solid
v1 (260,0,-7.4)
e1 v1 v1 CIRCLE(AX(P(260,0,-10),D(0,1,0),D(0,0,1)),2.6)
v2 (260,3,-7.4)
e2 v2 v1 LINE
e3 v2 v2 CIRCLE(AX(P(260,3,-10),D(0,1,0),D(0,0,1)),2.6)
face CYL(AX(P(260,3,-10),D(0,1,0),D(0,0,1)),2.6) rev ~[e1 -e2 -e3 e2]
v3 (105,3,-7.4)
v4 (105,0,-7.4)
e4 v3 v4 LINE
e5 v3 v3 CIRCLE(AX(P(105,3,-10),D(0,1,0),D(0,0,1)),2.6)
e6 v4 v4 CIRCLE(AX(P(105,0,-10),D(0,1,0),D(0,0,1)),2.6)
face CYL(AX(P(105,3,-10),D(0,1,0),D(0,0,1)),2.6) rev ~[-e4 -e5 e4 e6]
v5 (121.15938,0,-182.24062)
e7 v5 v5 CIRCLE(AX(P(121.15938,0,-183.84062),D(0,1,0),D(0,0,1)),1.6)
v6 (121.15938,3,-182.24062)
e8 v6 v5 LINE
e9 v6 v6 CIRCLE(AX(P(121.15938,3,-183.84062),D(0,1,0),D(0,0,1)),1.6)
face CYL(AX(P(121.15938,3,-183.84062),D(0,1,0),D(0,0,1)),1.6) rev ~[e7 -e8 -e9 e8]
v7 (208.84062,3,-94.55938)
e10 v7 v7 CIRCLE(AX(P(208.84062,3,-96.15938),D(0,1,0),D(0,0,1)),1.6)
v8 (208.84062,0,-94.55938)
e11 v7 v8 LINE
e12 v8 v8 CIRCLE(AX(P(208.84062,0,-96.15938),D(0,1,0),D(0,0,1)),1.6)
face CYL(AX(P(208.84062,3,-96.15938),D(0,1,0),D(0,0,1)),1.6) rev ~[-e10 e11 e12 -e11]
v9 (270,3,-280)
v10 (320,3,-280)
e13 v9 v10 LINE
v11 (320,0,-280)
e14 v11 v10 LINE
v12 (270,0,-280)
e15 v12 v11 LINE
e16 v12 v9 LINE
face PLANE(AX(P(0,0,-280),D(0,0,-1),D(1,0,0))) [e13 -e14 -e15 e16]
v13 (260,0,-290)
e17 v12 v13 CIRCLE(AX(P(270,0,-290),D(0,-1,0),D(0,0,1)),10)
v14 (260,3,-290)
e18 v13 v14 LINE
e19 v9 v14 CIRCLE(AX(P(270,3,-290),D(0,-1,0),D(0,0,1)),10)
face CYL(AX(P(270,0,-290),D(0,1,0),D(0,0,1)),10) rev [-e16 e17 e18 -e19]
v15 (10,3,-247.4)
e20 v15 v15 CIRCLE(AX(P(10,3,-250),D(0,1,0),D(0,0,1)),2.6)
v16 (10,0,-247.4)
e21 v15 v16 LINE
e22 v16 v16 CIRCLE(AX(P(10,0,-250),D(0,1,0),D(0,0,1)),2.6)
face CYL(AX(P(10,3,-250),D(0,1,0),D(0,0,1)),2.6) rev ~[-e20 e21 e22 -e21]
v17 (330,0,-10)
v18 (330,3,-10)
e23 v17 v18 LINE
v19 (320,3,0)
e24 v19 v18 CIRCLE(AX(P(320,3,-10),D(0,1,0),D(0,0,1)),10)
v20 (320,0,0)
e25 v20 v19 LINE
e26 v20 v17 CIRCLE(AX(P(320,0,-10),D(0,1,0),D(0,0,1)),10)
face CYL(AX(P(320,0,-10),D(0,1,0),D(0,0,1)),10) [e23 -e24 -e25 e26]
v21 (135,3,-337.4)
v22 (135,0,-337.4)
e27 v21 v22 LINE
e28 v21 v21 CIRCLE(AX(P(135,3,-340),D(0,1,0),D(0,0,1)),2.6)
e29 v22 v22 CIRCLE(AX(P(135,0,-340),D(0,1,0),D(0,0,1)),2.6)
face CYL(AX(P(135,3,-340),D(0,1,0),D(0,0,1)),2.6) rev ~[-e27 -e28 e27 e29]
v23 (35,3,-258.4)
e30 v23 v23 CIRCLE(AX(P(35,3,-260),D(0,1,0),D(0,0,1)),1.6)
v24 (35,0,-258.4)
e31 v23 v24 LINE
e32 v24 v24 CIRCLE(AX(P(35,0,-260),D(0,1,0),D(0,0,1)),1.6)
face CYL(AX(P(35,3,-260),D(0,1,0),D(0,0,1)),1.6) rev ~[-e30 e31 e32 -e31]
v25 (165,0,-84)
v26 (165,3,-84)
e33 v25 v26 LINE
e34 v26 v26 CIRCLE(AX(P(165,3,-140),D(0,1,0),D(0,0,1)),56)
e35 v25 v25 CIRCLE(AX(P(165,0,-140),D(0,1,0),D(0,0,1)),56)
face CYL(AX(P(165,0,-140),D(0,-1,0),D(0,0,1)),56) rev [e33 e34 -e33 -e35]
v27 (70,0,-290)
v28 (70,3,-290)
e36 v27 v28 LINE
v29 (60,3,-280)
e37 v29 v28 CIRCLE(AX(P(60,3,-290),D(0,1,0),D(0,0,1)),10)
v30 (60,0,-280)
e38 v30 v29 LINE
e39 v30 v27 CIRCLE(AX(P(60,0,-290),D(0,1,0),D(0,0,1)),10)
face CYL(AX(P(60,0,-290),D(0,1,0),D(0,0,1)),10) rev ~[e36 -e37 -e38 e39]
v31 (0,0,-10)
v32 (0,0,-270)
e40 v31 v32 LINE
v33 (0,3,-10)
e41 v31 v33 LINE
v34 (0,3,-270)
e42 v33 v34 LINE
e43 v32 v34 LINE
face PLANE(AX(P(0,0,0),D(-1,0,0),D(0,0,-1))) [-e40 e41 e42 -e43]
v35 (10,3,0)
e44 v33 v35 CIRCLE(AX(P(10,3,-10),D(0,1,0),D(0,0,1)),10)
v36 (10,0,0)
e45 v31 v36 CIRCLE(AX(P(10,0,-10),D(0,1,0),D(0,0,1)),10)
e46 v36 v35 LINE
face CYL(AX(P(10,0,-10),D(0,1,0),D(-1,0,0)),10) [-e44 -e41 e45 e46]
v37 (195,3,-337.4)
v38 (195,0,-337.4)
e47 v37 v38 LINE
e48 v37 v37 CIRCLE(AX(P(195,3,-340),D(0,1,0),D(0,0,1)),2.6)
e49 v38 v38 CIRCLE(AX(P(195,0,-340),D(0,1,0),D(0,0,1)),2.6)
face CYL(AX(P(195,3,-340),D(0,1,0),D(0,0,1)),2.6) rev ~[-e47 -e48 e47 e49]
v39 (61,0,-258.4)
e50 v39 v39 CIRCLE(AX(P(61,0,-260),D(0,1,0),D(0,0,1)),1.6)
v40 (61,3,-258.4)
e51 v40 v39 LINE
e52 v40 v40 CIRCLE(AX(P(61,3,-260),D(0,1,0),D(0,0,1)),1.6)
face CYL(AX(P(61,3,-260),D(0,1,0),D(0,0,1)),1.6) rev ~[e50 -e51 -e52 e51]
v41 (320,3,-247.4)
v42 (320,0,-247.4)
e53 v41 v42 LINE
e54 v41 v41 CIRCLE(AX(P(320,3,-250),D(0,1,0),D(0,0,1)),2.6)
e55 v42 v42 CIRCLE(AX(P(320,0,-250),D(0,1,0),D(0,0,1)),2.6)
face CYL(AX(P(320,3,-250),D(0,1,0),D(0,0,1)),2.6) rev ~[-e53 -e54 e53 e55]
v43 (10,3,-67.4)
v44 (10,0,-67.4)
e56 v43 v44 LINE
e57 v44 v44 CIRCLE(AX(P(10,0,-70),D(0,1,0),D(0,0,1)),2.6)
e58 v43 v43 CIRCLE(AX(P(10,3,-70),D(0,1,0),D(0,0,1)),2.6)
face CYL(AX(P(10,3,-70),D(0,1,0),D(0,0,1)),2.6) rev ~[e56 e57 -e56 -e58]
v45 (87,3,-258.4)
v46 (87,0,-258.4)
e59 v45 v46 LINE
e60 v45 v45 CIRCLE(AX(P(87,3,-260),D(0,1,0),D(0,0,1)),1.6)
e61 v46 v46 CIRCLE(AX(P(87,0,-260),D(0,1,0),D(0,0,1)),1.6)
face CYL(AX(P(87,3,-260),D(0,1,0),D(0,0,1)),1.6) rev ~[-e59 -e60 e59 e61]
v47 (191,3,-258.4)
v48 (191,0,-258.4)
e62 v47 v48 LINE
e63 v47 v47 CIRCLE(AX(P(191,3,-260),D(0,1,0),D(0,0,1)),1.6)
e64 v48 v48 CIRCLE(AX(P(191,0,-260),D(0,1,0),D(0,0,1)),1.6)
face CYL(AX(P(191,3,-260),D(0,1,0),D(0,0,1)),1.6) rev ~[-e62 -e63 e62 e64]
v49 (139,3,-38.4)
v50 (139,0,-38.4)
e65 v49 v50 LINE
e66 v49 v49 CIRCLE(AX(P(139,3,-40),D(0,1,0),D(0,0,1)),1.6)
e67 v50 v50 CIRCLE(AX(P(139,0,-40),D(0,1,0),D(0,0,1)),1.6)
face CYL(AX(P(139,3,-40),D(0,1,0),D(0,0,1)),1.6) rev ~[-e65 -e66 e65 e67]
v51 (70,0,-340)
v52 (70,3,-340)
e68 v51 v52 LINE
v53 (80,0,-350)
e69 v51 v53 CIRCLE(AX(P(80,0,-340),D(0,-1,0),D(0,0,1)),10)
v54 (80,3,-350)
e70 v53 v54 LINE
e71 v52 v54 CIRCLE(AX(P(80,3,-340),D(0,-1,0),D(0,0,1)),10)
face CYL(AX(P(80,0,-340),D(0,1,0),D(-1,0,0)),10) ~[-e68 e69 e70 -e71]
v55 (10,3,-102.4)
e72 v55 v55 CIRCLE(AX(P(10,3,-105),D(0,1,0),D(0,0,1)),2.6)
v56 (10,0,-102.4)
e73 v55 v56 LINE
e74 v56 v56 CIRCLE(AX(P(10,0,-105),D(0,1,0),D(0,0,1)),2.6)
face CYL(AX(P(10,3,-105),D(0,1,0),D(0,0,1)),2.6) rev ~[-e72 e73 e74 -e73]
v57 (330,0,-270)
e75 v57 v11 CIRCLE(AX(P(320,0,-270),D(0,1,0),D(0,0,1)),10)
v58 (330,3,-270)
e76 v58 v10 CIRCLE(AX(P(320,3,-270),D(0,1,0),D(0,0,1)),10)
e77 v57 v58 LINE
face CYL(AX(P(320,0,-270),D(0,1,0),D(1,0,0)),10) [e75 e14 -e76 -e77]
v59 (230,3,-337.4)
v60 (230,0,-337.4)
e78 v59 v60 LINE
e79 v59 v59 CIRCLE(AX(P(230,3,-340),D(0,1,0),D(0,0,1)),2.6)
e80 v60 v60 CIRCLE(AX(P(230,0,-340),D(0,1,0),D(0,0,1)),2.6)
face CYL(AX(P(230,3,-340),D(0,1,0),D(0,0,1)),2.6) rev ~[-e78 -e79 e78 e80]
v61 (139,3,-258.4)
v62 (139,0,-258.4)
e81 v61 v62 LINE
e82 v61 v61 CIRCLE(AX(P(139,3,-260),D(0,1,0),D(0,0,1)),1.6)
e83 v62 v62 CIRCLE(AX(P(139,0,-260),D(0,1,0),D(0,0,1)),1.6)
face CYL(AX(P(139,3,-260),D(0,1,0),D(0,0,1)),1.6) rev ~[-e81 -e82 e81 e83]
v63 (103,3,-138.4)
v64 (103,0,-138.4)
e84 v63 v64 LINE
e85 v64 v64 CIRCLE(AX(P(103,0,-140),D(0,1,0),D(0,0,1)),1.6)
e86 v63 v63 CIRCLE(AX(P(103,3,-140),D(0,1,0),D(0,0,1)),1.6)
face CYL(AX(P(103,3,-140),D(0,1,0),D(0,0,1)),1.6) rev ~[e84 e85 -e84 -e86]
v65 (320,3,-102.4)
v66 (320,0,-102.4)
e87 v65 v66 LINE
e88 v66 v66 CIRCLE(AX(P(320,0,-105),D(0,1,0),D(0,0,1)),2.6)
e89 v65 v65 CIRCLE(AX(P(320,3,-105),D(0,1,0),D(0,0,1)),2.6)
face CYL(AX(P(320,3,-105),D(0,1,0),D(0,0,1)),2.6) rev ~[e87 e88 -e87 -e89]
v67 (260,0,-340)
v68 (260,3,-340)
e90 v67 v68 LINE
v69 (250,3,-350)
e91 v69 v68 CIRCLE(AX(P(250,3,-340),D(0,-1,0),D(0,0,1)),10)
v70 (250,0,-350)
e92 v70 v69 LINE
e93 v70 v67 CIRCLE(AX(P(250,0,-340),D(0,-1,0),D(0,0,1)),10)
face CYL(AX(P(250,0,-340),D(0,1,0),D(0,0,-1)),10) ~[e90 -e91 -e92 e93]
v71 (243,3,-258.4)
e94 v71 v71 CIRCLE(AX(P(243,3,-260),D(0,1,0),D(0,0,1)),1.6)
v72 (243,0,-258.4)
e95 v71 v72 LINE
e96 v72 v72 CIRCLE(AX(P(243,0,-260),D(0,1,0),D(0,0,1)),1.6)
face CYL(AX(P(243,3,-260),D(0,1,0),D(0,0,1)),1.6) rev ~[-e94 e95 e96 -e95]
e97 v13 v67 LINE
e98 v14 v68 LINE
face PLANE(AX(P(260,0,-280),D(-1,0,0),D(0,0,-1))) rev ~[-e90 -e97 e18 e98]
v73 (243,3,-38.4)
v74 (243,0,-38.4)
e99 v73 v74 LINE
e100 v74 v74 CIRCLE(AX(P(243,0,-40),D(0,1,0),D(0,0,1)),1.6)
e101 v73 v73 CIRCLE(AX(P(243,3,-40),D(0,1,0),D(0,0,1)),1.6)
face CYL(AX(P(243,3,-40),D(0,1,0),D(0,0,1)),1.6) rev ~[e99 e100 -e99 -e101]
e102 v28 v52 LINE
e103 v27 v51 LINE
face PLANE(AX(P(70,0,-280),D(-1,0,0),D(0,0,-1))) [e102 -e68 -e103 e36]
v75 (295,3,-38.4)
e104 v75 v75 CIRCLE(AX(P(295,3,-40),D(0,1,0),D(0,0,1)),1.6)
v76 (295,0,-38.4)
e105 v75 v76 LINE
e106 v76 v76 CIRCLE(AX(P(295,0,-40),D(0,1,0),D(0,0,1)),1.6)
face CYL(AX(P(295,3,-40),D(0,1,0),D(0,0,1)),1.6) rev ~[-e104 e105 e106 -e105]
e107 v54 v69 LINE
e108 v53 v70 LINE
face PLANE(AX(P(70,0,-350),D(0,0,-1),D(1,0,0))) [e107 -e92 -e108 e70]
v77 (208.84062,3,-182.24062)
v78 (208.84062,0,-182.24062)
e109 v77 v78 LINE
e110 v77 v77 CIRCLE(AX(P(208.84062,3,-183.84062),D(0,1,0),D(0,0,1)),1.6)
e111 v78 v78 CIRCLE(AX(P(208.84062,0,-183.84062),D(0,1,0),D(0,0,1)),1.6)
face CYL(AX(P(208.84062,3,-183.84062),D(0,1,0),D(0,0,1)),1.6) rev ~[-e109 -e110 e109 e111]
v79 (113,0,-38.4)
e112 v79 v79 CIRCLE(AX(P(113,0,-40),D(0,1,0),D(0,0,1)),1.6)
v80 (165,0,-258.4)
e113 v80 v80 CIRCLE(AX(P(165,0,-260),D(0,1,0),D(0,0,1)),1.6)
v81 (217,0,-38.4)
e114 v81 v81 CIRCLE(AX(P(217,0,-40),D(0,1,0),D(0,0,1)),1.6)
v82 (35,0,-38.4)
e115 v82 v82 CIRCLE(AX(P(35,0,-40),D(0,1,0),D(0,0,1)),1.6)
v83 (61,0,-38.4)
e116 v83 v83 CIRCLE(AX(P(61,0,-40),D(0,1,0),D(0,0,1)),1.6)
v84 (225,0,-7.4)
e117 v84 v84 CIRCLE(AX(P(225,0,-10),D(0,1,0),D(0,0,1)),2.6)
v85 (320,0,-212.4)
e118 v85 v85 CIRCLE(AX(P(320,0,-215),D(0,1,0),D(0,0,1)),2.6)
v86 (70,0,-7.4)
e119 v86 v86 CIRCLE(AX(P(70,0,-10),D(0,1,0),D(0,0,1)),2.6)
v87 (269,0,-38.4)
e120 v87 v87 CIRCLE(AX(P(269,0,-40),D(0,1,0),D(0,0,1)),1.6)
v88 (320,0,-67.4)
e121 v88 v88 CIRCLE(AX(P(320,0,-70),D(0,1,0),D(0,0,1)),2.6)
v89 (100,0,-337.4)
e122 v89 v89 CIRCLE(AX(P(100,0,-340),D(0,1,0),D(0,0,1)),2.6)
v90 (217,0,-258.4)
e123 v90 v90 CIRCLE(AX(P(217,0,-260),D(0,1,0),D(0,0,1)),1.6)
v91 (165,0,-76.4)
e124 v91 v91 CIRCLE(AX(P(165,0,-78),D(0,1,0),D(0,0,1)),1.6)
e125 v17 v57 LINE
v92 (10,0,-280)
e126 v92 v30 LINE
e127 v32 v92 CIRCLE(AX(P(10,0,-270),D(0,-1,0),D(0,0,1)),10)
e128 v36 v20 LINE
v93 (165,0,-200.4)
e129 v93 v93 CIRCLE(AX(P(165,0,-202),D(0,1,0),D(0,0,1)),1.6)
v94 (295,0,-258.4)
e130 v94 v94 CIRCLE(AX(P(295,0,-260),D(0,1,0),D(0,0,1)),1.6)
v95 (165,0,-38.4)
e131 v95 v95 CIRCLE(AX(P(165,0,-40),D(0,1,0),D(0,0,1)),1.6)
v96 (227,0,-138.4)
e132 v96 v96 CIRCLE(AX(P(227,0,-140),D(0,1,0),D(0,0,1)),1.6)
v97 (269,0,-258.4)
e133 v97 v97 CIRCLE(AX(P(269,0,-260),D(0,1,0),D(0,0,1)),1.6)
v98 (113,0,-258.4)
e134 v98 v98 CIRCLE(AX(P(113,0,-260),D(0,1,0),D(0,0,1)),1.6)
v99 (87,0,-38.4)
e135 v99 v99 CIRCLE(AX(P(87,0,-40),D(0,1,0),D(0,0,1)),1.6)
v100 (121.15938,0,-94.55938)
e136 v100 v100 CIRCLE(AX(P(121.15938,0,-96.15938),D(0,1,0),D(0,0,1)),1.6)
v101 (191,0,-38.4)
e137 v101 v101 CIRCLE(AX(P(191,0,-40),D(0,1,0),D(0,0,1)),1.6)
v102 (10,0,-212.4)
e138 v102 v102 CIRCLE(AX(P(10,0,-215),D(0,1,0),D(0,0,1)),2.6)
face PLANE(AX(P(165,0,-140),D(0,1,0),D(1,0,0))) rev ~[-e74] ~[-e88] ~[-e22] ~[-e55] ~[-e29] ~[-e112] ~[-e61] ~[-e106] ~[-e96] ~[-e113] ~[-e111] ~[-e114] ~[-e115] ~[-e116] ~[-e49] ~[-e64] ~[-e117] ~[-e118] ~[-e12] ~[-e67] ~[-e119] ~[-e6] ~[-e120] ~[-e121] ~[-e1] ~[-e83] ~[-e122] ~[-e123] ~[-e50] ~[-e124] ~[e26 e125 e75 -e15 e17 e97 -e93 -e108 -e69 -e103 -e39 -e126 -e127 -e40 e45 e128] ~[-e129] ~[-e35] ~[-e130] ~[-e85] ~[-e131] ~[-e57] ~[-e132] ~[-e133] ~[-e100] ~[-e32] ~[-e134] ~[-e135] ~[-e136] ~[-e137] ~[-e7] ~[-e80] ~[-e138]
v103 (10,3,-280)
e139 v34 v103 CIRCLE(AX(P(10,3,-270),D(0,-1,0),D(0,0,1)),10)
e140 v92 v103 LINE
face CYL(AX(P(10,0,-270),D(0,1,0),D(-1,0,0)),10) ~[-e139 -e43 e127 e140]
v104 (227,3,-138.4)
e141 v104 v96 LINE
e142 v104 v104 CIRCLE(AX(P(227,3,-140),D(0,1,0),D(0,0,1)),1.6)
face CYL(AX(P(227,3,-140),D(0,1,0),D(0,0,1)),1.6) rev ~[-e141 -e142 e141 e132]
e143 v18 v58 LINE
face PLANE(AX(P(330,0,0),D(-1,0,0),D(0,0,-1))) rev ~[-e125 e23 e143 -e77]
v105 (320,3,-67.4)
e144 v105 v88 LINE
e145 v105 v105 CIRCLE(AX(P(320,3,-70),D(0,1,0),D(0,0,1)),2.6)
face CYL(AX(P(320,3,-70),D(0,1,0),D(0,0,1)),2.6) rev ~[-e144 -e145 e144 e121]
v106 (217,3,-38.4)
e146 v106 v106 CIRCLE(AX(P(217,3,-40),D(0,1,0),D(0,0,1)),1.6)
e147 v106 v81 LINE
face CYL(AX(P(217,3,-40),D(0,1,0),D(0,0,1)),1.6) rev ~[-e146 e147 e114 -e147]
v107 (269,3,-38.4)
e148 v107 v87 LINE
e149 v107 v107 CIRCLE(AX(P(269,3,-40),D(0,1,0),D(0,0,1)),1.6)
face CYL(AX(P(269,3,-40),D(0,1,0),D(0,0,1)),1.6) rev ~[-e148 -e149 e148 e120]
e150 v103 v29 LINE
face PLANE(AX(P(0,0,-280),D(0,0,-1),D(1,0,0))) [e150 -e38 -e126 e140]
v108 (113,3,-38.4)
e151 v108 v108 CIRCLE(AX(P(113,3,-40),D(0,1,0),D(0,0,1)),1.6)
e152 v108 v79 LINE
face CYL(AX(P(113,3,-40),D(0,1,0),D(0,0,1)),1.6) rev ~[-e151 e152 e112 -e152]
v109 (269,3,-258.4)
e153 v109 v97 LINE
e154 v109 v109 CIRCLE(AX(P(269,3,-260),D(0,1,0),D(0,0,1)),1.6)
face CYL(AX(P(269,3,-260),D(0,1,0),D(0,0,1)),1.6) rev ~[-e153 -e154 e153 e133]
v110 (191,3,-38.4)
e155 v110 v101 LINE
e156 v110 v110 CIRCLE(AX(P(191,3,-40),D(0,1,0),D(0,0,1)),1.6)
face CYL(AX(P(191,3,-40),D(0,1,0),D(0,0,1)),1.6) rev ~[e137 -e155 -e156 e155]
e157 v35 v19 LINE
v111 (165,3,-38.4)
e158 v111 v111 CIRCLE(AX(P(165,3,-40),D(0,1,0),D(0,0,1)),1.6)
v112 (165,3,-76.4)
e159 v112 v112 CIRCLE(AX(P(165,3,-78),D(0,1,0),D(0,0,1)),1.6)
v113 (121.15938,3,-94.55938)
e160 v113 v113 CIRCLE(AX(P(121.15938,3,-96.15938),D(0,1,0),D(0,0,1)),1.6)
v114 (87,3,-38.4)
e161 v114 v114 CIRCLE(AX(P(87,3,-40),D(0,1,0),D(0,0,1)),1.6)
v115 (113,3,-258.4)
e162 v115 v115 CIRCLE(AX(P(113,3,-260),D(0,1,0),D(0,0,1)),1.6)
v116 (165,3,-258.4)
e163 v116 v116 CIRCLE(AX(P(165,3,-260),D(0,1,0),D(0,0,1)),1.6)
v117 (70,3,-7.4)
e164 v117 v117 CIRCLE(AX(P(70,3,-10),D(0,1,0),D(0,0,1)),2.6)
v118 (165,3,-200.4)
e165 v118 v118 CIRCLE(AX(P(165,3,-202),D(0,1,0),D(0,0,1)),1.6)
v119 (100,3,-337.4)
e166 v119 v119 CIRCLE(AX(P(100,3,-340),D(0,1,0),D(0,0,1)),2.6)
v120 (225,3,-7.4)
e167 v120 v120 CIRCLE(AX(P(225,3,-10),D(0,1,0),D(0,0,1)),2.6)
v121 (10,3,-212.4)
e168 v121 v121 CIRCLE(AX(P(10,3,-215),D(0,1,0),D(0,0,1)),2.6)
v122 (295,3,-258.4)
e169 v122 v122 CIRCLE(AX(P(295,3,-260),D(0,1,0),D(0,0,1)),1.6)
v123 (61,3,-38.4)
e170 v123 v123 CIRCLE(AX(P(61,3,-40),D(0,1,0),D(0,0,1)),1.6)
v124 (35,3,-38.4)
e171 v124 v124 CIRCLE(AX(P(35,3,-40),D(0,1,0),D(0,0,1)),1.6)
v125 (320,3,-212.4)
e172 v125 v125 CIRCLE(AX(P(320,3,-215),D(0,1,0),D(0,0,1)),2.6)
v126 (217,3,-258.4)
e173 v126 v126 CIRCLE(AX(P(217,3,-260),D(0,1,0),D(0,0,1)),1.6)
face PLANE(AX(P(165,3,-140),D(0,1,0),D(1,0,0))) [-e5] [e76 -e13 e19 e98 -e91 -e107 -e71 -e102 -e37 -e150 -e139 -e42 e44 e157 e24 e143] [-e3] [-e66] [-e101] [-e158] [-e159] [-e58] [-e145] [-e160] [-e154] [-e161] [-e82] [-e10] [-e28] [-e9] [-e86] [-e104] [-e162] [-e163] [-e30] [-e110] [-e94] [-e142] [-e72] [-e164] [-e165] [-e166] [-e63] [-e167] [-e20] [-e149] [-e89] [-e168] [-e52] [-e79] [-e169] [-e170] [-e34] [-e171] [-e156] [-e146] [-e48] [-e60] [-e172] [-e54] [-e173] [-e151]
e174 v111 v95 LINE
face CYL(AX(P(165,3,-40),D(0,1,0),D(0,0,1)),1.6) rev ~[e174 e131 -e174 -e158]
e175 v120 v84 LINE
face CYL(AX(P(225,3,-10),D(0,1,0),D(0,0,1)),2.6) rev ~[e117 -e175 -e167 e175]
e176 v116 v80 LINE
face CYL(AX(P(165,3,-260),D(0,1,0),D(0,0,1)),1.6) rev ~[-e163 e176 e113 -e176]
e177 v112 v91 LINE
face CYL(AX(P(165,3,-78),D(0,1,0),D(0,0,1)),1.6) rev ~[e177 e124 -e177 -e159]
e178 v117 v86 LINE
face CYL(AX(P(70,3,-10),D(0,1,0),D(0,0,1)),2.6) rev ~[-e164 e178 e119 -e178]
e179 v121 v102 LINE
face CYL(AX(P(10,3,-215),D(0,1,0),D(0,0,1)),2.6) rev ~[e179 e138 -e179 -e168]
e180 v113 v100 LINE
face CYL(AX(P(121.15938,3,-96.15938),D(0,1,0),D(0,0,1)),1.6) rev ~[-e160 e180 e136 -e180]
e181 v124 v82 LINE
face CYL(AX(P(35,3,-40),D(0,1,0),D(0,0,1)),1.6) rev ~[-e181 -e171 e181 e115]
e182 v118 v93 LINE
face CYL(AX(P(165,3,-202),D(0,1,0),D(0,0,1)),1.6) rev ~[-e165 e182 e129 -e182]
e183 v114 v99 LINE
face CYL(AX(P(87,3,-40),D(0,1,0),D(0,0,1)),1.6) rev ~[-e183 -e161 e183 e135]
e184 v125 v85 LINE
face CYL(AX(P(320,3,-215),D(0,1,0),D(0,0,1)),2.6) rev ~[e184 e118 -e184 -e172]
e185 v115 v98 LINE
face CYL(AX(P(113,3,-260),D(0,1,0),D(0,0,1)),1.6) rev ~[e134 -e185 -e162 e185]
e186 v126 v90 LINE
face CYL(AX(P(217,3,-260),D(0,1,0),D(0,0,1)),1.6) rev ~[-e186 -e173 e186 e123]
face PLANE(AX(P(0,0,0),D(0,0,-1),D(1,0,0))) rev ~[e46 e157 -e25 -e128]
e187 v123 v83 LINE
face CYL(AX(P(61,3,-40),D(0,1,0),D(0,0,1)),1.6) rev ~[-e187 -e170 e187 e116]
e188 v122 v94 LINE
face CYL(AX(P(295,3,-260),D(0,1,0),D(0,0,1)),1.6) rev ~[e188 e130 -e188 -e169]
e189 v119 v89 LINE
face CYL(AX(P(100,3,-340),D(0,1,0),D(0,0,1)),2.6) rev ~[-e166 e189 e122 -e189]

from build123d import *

# Parameters (mm, degrees)
SKETCH1_W           = 330
SKETCH1_H           = 280
SKETCH1_R           = 56
SKETCH1_W_2         = 190
SKETCH1_H_2         = 70
BOSS_EXTRUDE1_DEPTH = 3
FILLET1_R           = 10
SKETCH2_R           = 2.6
SKETCH2_R_2         = 1.6
CUT_EXTRUDE1_DEPTH  = 482.049893462


with BuildPart() as part:
    # Sketch1 → Boss-Extrude1 (new body)
    # profile 1 of 2: a face of its own
    with BuildSketch(Plane(origin=(0, 0, 0), x_dir=(1, 0, 0), z_dir=(0, 1, 0))):
        with Locations((165, 140)):
            Rectangle(SKETCH1_W, SKETCH1_H)
        with Locations(Location((165, 140, 0), (0, 0, 270))):
            Circle(SKETCH1_R, mode=Mode.SUBTRACT)
    # profile 2 of 2: a face of its own
    with BuildSketch(Plane(origin=(0, 0, 0), x_dir=(1, 0, 0), z_dir=(0, 1, 0))):
        with Locations((165, 315)):
            Rectangle(SKETCH1_W_2, SKETCH1_H_2)
    extrude(amount=BOSS_EXTRUDE1_DEPTH)

    # Fillet1
    fillet1_edges = [part.edges().sort_by_distance(p)[0] for p in [
        (0, 1.5, 0),
        (0, 1.5, -280),
        (70, 1.5, -280),
        (70, 1.5, -350),
        (260, 1.5, -350),
        (260, 1.5, -280),
        (330, 1.5, -280),
        (330, 1.5, 0),
    ]]
    fillet(fillet1_edges, radius=FILLET1_R)

    # Sketch2 → Cut-Extrude1 (cut, through all)
    with BuildSketch(Plane(origin=(0, 3, 0), x_dir=(1, 0, 0), z_dir=(0, 1, 0))):
        with Locations(Location((100, 340, 0), (0, 0, 270))):
            Circle(SKETCH2_R)
        with Locations(Location((230, 340, 0), (0, 0, 270))):
            Circle(SKETCH2_R)
        with Locations(Location((320, 250, 0), (0, 0, 270))):
            Circle(SKETCH2_R)
        with Locations(Location((320, 70, 0), (0, 0, 270))):
            Circle(SKETCH2_R)
        with Locations(Location((260, 10, 0), (0, 0, 270))):
            Circle(SKETCH2_R)
        with Locations(Location((10, 70, 0), (0, 0, 270))):
            Circle(SKETCH2_R)
        with Locations(Location((70, 10, 0), (0, 0, 270))):
            Circle(SKETCH2_R)
        with Locations(Location((10, 250, 0), (0, 0, 270))):
            Circle(SKETCH2_R)
        with Locations(Location((165, 202, 0), (0, 0, 270))):
            Circle(SKETCH2_R_2)
        with Locations(Location((208.840620434, 183.840620434, 0), (0, 0, 270))):
            Circle(SKETCH2_R_2)
        with Locations(Location((227, 140, 0), (0, 0, 270))):
            Circle(SKETCH2_R_2)
        with Locations(Location((208.840620434, 96.159379566, 0), (0, 0, 270))):
            Circle(SKETCH2_R_2)
        with Locations(Location((165, 78, 0), (0, 0, 270))):
            Circle(SKETCH2_R_2)
        with Locations(Location((121.159379566, 96.159379566, 0), (0, 0, 270))):
            Circle(SKETCH2_R_2)
        with Locations(Location((103, 140, 0), (0, 0, 270))):
            Circle(SKETCH2_R_2)
        with Locations(Location((121.159379566, 183.840620434, 0), (0, 0, 270))):
            Circle(SKETCH2_R_2)
        with Locations(Location((35, 260, 0), (0, 0, 270))):
            Circle(SKETCH2_R_2)
        with Locations(Location((61, 260, 0), (0, 0, 270))):
            Circle(SKETCH2_R_2)
        with Locations(Location((87, 260, 0), (0, 0, 270))):
            Circle(SKETCH2_R_2)
        with Locations(Location((113, 260, 0), (0, 0, 270))):
            Circle(SKETCH2_R_2)
        with Locations(Location((139, 260, 0), (0, 0, 270))):
            Circle(SKETCH2_R_2)
        with Locations(Location((165, 260, 0), (0, 0, 270))):
            Circle(SKETCH2_R_2)
        with Locations(Location((191, 260, 0), (0, 0, 270))):
            Circle(SKETCH2_R_2)
        with Locations(Location((217, 260, 0), (0, 0, 270))):
            Circle(SKETCH2_R_2)
        with Locations(Location((243, 260, 0), (0, 0, 270))):
            Circle(SKETCH2_R_2)
        with Locations(Location((269, 260, 0), (0, 0, 270))):
            Circle(SKETCH2_R_2)
        with Locations(Location((295, 260, 0), (0, 0, 270))):
            Circle(SKETCH2_R_2)
        with Locations(Location((35, 40, 0), (0, 0, 270))):
            Circle(SKETCH2_R_2)
        with Locations(Location((61, 40, 0), (0, 0, 270))):
            Circle(SKETCH2_R_2)
        with Locations(Location((87, 40, 0), (0, 0, 270))):
            Circle(SKETCH2_R_2)
        with Locations(Location((113, 40, 0), (0, 0, 270))):
            Circle(SKETCH2_R_2)
        with Locations(Location((139, 40, 0), (0, 0, 270))):
            Circle(SKETCH2_R_2)
        with Locations(Location((165, 40, 0), (0, 0, 270))):
            Circle(SKETCH2_R_2)
        with Locations(Location((191, 40, 0), (0, 0, 270))):
            Circle(SKETCH2_R_2)
        with Locations(Location((217, 40, 0), (0, 0, 270))):
            Circle(SKETCH2_R_2)
        with Locations(Location((243, 40, 0), (0, 0, 270))):
            Circle(SKETCH2_R_2)
        with Locations(Location((269, 40, 0), (0, 0, 270))):
            Circle(SKETCH2_R_2)
        with Locations(Location((295, 40, 0), (0, 0, 270))):
            Circle(SKETCH2_R_2)
        with Locations(Location((10, 215, 0), (0, 0, 270))):
            Circle(SKETCH2_R)
        with Locations(Location((10, 105, 0), (0, 0, 270))):
            Circle(SKETCH2_R)
        with Locations(Location((105, 10, 0), (0, 0, 270))):
            Circle(SKETCH2_R)
        with Locations(Location((225, 10, 0), (0, 0, 270))):
            Circle(SKETCH2_R)
        with Locations(Location((320, 105, 0), (0, 0, 270))):
            Circle(SKETCH2_R)
        with Locations(Location((320, 215, 0), (0, 0, 270))):
            Circle(SKETCH2_R)
        with Locations(Location((135, 340, 0), (0, 0, 270))):
            Circle(SKETCH2_R)
        with Locations(Location((195, 340, 0), (0, 0, 270))):
            Circle(SKETCH2_R)
    extrude(amount=-CUT_EXTRUDE1_DEPTH, mode=Mode.SUBTRACT)


solid = part.part
